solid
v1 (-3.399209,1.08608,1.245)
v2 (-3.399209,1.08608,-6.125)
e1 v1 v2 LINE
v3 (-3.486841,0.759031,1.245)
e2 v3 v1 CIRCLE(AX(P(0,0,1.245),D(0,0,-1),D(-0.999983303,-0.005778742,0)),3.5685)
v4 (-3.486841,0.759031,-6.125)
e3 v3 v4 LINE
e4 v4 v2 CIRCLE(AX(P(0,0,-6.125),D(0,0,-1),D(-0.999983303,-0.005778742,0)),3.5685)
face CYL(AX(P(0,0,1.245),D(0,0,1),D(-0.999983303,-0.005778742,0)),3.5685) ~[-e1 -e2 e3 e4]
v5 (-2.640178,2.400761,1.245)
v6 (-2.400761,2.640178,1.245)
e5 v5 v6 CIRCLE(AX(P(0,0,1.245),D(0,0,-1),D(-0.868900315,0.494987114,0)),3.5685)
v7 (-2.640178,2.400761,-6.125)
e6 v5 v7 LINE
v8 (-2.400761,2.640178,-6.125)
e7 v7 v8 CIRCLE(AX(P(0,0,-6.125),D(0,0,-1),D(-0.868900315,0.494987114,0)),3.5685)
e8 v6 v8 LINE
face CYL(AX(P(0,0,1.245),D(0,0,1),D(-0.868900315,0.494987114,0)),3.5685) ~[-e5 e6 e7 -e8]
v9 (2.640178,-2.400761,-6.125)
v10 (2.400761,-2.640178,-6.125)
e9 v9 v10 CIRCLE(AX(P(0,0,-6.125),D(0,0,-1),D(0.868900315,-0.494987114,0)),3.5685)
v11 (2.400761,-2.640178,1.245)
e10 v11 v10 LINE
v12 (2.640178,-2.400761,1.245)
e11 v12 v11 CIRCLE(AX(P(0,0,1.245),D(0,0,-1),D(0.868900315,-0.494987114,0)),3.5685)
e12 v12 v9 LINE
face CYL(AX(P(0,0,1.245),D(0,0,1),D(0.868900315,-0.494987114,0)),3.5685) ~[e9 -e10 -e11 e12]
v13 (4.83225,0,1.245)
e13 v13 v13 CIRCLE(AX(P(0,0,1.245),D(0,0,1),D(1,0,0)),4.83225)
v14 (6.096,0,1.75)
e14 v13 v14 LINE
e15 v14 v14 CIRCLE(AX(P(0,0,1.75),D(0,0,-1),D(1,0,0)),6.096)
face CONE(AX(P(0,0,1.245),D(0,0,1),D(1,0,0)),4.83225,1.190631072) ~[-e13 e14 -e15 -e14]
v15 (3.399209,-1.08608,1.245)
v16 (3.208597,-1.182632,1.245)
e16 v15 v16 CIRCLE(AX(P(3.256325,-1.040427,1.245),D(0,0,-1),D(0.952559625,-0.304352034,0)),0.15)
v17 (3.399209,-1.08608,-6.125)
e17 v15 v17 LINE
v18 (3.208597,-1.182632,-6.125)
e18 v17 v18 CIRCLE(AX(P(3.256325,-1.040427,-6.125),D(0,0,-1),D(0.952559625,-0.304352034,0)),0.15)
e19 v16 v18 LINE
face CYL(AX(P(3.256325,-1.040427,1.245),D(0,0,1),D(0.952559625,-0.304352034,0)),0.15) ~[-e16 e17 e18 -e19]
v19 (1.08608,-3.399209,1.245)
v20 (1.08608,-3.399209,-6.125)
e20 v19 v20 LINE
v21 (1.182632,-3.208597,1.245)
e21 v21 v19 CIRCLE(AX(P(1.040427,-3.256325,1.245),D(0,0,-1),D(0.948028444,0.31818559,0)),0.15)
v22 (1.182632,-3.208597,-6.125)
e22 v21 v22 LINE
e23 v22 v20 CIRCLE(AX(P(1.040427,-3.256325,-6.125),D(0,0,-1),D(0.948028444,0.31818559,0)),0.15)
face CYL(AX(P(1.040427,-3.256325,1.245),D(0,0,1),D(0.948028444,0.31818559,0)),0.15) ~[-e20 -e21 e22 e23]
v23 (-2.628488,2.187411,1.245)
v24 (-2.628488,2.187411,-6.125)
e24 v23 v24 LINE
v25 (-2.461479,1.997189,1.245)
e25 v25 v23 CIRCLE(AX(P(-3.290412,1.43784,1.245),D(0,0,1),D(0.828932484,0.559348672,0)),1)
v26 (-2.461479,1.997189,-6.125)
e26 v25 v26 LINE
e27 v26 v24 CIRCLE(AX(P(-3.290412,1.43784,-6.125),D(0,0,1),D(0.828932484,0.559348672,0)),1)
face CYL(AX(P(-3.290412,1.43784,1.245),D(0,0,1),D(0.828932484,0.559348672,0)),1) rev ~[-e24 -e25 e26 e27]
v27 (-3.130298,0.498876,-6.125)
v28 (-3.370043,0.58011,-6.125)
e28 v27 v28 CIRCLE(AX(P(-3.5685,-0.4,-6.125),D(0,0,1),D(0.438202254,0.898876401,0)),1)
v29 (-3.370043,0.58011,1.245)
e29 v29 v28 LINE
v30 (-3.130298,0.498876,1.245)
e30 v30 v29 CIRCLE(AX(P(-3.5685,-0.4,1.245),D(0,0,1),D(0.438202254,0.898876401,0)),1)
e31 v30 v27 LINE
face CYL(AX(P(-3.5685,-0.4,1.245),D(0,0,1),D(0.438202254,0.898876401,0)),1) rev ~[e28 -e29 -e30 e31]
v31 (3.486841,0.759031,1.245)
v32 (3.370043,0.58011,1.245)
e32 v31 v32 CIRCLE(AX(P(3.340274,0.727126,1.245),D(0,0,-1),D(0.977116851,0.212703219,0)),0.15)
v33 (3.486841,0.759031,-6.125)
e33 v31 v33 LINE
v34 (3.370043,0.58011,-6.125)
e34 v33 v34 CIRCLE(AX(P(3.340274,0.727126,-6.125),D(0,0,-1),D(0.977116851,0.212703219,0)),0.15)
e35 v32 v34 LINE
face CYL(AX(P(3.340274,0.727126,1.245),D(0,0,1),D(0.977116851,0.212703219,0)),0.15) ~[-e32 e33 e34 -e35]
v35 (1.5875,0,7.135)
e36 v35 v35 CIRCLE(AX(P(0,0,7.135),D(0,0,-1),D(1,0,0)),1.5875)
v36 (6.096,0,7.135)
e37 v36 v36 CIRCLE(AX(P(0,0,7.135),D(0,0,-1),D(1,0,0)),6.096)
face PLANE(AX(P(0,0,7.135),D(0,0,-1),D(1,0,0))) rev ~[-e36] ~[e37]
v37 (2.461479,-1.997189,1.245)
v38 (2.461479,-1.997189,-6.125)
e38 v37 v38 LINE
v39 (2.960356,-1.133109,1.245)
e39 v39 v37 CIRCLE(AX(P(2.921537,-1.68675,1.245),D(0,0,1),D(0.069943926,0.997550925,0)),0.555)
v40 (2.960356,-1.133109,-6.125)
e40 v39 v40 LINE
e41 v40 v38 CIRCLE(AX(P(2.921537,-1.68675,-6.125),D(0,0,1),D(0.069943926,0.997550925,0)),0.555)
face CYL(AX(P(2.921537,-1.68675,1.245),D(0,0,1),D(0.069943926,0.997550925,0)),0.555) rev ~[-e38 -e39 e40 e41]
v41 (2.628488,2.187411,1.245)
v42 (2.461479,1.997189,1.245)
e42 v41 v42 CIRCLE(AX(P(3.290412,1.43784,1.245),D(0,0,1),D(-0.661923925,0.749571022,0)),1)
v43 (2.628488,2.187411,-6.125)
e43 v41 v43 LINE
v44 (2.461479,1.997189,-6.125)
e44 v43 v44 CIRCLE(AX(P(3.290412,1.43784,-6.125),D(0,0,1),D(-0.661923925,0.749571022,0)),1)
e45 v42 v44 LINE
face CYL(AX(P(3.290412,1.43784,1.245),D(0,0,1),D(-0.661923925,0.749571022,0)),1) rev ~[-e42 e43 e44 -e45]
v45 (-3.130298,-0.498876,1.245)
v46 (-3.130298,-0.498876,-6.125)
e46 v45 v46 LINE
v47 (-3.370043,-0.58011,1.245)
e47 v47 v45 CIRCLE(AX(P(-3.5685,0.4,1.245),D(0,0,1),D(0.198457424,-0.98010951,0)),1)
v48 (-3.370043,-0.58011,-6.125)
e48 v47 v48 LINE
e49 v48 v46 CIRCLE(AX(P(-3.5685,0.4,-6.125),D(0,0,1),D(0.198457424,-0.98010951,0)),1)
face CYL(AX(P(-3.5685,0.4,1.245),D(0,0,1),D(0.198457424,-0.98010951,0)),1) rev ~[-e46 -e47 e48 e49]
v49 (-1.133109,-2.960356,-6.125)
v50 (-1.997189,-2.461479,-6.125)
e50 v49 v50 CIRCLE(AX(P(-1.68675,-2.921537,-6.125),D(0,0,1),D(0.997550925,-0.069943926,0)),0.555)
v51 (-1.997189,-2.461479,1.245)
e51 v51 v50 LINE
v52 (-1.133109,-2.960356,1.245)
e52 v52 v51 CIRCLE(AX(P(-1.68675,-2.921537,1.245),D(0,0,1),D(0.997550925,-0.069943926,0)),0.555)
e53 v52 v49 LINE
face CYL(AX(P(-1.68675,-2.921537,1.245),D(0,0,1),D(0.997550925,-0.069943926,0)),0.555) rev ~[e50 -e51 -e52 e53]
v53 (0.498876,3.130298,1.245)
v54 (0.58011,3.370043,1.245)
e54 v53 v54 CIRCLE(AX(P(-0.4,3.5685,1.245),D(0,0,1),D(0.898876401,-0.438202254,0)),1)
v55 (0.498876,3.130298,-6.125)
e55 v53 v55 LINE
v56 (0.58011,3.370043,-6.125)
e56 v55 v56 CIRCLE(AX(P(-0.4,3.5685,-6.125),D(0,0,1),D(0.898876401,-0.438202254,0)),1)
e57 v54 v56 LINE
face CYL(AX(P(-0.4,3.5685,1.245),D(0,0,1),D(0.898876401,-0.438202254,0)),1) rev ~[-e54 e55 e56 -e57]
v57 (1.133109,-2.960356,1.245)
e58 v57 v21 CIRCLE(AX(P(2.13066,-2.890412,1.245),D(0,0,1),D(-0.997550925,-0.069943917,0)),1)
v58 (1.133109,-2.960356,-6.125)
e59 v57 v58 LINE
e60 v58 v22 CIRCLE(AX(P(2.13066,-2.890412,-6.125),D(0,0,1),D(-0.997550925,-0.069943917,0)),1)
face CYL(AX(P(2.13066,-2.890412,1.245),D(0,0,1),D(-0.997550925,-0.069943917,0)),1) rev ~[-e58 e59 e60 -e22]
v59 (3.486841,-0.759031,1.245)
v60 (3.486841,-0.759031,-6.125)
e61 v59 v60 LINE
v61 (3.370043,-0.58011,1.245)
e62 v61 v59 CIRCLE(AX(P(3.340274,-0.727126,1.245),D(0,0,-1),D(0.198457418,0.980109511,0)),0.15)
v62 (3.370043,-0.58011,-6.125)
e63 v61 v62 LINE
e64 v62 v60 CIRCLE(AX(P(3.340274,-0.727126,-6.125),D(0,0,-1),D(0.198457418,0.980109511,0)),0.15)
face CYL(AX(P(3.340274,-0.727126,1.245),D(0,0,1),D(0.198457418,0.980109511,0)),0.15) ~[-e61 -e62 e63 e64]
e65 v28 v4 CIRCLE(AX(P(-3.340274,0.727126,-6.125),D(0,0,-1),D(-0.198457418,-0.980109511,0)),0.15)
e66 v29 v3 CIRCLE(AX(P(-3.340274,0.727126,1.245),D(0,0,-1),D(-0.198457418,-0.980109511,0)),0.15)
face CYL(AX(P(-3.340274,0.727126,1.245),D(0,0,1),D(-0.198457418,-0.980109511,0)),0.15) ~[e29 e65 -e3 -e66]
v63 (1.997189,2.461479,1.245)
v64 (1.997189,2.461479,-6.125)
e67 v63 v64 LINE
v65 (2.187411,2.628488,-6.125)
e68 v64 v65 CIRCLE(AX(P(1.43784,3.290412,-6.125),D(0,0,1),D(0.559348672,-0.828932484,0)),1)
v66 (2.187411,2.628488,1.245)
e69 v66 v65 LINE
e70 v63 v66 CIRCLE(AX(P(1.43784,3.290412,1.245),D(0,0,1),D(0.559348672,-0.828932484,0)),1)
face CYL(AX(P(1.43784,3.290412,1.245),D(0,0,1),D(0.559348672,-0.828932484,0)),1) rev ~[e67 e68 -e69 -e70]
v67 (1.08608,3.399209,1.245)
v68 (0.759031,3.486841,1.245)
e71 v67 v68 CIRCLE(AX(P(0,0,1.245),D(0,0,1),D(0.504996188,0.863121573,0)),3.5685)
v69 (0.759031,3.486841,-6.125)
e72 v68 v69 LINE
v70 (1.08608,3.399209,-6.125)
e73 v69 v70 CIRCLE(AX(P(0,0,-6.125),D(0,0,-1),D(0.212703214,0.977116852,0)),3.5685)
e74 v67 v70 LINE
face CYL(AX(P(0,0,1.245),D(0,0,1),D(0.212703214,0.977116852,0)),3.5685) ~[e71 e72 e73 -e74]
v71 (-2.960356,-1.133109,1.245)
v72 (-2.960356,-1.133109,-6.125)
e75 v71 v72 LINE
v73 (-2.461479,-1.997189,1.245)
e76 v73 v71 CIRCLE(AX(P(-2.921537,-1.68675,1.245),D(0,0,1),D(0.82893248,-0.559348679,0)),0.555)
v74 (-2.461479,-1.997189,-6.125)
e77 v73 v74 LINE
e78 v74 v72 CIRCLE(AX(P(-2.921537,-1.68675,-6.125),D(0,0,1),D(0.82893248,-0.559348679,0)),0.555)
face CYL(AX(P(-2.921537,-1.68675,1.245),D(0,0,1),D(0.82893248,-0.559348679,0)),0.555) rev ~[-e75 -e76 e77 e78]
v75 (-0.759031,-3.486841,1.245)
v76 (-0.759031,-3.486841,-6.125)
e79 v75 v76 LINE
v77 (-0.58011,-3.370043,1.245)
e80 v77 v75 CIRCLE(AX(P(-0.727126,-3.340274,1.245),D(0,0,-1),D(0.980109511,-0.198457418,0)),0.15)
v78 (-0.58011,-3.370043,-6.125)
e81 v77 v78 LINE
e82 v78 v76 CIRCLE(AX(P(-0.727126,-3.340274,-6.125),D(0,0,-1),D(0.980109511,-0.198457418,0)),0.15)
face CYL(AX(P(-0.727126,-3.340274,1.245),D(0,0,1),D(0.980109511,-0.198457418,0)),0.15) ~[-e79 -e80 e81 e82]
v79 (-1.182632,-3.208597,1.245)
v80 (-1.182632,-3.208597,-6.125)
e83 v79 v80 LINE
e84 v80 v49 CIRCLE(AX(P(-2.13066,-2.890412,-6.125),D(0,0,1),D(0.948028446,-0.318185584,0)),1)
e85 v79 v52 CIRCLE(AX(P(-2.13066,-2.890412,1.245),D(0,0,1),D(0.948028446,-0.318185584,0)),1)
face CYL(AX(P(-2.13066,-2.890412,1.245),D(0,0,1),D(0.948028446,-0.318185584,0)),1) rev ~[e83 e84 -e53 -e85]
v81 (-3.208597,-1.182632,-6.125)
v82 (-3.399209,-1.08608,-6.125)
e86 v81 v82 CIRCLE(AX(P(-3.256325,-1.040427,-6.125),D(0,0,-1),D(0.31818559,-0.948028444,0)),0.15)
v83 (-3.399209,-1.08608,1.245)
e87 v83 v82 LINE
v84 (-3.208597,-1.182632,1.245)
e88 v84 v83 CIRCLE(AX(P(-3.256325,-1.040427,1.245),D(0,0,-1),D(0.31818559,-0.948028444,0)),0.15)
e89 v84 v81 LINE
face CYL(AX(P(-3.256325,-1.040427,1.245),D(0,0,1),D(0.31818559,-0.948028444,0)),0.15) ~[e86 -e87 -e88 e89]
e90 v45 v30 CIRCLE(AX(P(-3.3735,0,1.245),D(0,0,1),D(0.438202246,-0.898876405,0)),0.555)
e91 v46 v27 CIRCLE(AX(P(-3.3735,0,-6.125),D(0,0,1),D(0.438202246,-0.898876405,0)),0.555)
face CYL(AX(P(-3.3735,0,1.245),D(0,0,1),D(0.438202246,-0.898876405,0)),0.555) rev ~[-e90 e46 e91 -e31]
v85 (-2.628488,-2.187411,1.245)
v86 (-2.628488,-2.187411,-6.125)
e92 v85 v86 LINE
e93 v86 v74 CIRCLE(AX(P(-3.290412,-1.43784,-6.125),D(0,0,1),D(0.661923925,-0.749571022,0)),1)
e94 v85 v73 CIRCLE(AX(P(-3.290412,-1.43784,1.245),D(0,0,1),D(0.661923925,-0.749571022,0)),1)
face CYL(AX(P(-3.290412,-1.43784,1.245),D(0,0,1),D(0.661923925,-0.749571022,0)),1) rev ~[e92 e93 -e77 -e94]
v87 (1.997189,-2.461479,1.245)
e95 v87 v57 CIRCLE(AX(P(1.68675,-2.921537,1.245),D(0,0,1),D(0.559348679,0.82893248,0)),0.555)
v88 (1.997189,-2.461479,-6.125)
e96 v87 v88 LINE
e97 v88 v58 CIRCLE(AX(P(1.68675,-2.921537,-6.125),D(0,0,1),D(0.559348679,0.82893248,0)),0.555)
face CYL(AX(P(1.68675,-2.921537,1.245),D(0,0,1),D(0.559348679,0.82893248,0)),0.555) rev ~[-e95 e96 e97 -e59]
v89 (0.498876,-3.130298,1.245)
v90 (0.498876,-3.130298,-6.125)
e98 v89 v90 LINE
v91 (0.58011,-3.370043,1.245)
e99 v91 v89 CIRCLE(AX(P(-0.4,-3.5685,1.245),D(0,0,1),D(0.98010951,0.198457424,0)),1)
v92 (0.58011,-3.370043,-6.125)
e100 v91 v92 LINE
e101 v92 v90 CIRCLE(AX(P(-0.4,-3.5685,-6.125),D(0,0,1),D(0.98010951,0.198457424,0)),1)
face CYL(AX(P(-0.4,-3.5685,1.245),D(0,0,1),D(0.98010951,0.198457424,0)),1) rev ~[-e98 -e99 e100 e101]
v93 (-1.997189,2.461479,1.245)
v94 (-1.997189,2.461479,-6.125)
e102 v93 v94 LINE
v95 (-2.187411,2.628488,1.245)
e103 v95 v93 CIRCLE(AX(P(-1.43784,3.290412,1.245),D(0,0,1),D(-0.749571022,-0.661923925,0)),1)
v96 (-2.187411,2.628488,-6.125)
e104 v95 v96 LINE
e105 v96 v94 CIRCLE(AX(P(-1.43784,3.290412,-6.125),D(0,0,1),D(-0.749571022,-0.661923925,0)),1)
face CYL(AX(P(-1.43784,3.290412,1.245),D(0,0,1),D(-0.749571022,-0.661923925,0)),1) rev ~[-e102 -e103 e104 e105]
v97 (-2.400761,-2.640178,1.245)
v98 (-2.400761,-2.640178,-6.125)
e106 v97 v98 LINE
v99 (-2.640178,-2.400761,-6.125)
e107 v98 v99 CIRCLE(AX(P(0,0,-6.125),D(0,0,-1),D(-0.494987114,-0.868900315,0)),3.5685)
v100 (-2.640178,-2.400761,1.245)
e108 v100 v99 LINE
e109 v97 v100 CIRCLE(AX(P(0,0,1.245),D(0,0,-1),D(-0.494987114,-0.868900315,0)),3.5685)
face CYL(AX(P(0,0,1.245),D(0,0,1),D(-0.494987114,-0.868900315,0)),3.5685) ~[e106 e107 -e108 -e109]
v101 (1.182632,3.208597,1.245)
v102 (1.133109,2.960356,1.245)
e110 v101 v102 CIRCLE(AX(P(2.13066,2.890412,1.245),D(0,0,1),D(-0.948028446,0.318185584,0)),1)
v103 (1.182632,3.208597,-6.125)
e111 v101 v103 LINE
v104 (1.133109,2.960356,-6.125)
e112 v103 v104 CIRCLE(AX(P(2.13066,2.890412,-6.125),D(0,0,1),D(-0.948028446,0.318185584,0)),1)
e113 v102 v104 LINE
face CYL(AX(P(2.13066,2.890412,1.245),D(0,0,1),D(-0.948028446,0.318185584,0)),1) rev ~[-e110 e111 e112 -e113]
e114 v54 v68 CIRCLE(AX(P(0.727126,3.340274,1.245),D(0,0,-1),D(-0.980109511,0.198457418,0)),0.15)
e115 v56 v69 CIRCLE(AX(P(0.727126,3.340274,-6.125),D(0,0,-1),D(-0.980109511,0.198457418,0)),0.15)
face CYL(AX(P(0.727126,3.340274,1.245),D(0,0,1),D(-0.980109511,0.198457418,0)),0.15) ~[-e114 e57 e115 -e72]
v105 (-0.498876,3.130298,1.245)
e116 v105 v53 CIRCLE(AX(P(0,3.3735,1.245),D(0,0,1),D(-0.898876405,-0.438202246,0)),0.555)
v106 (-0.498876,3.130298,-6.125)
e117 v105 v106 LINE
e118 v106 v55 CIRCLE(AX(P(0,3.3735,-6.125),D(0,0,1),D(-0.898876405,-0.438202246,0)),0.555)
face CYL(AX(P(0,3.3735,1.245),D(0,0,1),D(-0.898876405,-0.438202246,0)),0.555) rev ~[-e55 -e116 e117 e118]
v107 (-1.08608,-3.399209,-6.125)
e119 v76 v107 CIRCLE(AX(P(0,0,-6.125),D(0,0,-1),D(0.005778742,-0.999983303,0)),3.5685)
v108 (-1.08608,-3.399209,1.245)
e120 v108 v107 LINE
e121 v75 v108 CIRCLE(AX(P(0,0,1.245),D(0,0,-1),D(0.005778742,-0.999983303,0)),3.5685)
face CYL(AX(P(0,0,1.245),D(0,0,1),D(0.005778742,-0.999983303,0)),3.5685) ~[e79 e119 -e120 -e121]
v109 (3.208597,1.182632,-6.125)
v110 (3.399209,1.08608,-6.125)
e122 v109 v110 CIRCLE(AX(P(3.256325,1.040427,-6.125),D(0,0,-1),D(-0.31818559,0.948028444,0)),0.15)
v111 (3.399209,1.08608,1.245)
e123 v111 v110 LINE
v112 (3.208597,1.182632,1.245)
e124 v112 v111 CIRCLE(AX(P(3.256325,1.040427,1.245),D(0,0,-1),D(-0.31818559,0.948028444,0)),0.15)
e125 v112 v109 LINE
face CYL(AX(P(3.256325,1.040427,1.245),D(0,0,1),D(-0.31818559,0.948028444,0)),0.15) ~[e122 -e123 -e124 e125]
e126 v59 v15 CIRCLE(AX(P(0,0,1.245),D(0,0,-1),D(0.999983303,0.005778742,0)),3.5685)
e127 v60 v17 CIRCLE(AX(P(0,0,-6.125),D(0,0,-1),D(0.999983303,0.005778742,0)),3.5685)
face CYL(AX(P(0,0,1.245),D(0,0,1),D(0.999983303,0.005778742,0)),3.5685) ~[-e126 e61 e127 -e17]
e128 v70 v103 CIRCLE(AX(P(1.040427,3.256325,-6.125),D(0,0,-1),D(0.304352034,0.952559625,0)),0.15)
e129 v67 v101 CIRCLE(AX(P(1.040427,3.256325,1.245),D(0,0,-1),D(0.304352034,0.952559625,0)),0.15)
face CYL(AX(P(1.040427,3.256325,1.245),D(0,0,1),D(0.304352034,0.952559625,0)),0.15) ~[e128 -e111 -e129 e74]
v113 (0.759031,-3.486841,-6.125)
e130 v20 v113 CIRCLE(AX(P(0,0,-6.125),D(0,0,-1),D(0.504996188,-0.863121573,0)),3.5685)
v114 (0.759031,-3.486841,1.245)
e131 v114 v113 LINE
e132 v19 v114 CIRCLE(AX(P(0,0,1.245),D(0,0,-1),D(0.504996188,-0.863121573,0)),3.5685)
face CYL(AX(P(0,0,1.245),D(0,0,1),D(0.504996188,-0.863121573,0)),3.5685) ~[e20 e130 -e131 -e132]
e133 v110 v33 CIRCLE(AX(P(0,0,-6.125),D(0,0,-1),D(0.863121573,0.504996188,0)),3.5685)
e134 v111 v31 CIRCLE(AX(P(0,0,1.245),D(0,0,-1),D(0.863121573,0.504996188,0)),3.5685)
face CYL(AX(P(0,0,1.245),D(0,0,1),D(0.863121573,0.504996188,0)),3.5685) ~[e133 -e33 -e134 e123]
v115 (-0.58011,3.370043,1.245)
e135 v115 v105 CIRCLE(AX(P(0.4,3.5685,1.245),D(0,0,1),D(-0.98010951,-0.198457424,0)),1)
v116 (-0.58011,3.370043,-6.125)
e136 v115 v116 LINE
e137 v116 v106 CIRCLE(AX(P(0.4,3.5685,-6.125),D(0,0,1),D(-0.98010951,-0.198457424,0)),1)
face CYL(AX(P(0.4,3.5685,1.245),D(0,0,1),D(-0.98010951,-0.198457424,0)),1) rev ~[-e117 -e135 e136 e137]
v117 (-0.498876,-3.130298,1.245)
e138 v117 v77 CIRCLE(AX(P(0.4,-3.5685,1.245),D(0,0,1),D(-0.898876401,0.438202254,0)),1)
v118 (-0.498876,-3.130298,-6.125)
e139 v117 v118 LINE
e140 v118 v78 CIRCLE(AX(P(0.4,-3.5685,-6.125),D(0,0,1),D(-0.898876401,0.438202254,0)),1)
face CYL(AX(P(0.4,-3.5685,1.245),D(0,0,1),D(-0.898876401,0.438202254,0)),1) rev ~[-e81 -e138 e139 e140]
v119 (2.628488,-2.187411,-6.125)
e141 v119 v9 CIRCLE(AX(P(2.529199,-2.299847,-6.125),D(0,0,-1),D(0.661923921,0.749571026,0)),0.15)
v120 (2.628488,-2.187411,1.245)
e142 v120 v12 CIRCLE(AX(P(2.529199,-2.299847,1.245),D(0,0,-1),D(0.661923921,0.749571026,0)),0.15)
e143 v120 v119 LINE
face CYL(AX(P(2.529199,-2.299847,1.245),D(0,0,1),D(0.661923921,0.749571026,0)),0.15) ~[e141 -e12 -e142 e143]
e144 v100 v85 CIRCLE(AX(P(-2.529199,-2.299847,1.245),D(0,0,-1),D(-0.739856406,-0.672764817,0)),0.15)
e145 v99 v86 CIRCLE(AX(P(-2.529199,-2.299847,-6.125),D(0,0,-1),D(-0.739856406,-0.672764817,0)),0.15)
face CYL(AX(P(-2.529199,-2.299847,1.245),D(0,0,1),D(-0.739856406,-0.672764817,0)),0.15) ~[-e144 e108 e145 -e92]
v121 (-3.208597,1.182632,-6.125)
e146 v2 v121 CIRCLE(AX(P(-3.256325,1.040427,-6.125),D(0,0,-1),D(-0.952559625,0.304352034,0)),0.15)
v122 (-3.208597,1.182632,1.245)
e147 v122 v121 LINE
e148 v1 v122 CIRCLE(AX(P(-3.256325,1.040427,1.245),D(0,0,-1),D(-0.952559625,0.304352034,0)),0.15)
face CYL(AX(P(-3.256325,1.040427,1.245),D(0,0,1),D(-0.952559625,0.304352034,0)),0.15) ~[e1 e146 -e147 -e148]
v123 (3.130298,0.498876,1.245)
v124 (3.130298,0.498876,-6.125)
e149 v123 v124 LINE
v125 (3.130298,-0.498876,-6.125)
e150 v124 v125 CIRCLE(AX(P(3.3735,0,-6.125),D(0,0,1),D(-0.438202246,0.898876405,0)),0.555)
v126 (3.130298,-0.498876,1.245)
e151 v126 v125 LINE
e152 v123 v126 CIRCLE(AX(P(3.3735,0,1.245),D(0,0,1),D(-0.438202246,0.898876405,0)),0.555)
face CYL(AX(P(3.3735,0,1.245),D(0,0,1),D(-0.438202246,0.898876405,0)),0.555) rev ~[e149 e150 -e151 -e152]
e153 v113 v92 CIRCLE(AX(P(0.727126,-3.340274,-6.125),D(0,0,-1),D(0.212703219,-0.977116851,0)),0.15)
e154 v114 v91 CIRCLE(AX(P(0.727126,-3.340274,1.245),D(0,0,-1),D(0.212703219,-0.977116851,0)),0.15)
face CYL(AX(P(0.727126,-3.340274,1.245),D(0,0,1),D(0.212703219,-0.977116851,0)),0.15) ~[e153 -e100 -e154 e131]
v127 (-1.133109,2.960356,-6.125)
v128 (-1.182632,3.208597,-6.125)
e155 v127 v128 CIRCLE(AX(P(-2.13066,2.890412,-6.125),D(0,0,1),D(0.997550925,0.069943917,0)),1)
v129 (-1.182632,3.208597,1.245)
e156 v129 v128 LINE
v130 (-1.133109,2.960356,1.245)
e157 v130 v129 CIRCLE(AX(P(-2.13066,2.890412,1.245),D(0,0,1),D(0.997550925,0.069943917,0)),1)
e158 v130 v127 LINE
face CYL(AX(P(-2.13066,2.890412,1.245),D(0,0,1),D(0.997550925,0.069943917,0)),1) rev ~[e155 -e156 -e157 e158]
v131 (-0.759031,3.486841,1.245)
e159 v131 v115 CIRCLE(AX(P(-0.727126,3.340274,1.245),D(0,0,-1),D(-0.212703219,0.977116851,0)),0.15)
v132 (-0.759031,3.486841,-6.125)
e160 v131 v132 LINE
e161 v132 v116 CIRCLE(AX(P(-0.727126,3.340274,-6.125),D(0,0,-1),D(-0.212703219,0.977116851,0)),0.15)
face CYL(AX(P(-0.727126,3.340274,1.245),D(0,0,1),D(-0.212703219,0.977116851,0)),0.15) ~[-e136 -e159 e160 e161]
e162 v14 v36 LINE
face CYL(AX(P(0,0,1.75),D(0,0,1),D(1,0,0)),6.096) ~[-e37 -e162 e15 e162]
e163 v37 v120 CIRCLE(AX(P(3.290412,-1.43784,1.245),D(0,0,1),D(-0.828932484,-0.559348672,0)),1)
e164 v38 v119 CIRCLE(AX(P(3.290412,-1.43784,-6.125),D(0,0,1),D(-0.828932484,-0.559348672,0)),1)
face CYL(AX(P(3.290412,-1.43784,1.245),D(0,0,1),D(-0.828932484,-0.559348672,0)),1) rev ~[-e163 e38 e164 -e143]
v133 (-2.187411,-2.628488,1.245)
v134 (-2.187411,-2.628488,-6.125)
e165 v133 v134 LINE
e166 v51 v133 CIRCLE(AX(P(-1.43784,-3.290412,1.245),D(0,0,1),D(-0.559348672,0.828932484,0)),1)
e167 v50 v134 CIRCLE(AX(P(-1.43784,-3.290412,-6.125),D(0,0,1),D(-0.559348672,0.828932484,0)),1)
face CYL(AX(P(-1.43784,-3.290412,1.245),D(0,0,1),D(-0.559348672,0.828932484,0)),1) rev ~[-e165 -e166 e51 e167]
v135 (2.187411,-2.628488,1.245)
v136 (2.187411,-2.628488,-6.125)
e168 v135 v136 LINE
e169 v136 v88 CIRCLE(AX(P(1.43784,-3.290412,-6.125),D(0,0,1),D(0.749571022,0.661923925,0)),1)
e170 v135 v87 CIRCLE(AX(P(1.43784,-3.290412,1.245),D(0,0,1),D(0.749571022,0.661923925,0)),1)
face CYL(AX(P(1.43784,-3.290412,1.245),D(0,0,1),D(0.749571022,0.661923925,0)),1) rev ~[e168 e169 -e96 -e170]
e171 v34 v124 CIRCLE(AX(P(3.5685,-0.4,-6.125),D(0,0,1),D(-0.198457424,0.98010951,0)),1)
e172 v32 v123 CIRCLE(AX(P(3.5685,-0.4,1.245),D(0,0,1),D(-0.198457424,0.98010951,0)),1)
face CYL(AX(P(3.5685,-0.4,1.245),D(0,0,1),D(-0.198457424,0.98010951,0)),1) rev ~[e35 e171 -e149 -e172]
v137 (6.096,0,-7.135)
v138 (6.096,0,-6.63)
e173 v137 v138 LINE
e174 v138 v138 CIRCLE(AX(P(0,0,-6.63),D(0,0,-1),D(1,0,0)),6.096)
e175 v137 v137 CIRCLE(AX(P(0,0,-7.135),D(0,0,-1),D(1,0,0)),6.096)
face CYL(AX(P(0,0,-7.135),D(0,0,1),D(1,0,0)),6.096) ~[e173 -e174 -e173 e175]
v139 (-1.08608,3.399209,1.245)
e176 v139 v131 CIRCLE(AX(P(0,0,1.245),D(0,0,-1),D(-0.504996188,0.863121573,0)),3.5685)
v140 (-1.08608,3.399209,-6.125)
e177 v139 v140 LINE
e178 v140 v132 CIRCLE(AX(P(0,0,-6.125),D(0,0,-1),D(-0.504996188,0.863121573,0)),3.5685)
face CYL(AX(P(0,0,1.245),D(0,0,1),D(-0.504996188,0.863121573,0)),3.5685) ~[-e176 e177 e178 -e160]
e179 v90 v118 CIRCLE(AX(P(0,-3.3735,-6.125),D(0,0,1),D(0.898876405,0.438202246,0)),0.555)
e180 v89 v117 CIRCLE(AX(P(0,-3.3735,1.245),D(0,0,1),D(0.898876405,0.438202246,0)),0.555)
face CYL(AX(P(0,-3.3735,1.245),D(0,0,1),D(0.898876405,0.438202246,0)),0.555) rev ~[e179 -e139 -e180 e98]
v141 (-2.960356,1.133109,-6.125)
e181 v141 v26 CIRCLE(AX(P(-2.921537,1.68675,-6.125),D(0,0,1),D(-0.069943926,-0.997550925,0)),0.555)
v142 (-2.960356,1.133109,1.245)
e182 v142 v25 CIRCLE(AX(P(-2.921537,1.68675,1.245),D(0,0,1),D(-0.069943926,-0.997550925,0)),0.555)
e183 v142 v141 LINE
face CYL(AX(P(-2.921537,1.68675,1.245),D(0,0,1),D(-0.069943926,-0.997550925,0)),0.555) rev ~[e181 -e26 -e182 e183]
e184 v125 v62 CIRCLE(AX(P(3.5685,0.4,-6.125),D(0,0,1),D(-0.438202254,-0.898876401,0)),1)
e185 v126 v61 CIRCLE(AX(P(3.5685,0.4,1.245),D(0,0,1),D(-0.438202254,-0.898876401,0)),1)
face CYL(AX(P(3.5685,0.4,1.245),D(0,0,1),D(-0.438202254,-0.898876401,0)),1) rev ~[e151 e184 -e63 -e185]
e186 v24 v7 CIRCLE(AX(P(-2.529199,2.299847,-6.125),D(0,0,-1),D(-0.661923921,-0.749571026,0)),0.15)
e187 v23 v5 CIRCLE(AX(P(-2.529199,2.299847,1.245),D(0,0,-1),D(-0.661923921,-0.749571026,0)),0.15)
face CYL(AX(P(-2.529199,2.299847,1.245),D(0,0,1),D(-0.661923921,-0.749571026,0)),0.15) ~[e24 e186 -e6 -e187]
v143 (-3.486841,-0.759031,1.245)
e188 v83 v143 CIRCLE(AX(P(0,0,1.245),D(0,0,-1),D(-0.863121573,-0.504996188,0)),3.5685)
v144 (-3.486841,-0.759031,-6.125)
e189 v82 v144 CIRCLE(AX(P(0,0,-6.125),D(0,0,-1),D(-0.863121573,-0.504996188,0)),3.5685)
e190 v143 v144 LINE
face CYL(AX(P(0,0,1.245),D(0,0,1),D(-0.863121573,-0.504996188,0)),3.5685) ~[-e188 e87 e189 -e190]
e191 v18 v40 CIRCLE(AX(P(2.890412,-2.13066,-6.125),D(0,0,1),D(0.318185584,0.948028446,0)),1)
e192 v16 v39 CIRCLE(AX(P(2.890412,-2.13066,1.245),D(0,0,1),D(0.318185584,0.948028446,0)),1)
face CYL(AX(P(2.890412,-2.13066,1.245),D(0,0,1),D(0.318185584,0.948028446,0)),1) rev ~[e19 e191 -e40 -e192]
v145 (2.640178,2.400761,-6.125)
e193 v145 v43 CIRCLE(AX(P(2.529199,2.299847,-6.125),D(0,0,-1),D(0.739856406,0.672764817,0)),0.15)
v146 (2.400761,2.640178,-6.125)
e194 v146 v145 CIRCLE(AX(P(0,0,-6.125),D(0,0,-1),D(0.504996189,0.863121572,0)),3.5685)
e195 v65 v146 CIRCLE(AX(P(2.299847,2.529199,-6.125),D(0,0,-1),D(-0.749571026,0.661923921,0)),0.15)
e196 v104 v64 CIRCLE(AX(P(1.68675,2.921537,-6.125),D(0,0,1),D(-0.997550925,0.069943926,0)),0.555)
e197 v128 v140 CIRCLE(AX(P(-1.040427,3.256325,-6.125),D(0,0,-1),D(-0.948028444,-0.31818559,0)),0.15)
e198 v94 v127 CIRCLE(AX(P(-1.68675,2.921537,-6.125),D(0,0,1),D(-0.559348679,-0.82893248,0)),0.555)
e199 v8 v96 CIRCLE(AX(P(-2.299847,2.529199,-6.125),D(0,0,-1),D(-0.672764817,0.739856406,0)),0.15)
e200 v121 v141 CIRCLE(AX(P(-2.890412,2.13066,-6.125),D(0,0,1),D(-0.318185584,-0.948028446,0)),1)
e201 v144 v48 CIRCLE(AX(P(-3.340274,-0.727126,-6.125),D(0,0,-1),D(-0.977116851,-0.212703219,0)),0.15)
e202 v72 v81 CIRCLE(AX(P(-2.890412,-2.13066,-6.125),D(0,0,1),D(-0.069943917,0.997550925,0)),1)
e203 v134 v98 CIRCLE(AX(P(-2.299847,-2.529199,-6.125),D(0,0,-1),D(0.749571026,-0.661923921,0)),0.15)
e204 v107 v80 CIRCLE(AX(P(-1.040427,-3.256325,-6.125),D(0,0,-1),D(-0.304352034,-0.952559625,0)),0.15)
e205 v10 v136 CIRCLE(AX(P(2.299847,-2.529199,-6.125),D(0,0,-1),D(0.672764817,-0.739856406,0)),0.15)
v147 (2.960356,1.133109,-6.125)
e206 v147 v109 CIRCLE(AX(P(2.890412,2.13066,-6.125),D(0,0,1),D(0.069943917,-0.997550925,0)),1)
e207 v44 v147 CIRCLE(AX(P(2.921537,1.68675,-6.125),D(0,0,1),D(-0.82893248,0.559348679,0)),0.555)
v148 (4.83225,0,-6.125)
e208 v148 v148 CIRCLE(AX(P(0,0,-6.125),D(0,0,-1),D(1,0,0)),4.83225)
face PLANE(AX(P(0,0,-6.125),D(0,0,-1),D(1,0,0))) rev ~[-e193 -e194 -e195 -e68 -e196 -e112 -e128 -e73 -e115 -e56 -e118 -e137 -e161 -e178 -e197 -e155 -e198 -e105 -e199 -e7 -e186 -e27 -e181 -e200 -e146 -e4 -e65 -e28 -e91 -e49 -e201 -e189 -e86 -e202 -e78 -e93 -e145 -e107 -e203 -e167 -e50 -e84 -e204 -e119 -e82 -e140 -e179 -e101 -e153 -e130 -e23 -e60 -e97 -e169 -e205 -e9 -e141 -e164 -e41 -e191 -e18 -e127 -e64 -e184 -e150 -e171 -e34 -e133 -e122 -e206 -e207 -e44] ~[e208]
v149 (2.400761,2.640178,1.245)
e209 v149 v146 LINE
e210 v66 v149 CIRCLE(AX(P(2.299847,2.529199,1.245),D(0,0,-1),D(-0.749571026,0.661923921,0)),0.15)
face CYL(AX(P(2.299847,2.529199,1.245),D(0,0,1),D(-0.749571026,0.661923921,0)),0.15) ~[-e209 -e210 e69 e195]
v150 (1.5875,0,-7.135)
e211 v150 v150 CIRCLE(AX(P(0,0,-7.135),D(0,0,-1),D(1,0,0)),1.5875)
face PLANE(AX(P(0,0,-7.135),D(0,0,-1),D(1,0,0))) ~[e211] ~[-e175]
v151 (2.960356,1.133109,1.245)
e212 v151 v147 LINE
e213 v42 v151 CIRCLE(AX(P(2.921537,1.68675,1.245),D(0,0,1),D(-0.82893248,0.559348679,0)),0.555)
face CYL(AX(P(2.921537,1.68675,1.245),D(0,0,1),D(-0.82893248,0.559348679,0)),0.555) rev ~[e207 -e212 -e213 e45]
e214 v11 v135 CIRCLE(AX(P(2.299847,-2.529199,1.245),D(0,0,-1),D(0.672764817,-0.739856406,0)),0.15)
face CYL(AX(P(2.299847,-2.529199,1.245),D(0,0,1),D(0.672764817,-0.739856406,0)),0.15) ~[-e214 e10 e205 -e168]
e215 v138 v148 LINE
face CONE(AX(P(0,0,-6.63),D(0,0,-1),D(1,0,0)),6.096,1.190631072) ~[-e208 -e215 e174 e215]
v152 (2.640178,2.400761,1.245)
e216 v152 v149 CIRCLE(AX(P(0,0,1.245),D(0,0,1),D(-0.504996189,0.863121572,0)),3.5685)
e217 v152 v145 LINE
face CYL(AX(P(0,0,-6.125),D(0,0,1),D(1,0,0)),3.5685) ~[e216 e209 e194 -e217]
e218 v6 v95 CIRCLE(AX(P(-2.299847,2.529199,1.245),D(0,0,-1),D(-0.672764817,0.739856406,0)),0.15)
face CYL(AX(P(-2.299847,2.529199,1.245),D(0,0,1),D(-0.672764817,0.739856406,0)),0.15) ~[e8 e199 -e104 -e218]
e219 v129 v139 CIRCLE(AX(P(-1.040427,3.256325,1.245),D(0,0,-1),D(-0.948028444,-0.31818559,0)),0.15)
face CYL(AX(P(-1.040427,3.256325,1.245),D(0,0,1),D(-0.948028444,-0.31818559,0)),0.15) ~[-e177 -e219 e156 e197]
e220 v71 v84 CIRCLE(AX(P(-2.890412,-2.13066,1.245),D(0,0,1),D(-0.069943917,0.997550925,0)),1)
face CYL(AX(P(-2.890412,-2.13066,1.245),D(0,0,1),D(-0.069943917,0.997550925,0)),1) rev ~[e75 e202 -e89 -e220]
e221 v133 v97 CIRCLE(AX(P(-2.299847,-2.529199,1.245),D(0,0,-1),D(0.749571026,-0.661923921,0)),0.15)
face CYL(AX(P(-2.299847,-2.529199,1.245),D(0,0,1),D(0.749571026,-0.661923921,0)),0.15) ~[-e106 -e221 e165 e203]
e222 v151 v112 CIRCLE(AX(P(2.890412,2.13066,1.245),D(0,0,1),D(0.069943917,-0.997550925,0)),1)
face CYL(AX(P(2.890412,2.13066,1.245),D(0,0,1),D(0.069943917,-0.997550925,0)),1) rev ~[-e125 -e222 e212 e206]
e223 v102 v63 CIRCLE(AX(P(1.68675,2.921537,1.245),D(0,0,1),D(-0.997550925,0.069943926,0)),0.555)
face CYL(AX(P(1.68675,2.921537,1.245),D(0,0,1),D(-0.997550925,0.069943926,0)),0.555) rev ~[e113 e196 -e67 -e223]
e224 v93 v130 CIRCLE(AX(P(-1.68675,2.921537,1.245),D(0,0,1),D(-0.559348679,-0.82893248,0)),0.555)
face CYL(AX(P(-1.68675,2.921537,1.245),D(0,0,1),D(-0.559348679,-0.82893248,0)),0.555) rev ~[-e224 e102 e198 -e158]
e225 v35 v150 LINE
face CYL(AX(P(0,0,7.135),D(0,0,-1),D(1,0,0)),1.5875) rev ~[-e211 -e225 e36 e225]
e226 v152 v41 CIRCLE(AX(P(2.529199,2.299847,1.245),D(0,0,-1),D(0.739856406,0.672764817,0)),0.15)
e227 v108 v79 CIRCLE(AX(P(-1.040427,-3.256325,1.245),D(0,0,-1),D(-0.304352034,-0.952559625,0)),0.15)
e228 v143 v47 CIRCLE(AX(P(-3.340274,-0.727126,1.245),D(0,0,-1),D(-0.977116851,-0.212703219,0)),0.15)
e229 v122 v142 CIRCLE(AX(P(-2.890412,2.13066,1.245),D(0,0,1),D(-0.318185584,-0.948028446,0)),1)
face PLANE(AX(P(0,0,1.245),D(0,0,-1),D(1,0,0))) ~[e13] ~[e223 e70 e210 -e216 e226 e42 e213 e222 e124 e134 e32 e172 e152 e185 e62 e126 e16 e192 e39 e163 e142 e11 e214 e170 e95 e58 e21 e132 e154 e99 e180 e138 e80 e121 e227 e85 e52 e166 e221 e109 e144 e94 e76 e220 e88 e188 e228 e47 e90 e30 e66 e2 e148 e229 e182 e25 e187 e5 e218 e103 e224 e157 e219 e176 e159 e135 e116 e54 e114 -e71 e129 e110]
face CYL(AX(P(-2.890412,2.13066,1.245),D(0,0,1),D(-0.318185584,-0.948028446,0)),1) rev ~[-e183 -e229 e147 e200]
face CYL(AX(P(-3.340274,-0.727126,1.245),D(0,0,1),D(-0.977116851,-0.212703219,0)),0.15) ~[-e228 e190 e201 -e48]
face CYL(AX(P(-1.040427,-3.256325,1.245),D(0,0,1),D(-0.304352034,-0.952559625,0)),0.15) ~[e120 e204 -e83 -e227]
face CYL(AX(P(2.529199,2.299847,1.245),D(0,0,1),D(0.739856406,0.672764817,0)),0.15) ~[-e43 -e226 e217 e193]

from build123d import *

# Parameters (mm, degrees)
CUT_EXTRUDE1_START = 1.245
CUT_EXTRUDE1_DEPTH = 7.37
CIRPATTERN1_COUNT  = 12


with BuildPart() as part:
    # Sketch2 → Revolve1 (revolve)
    with BuildSketch(Plane(origin=(0, 0, 0), x_dir=(0, 0, -1), z_dir=(1, 0, 0)), mode=Mode.PRIVATE) as revolve1_sk:
        Polygon((-7.135, 1.5875), (7.135, 1.5875), (7.135, 6.096), (6.63, 6.096), (6.125, 4.83225), (6.125, 3.5685), (-1.245, 3.5685), (-1.245, 4.83225), (-1.75, 6.096), (-7.135, 6.096), align=None)
    revolve(revolve1_sk.sketch.rotate(Axis((0, 0, 7.135), (0, 0, -1)), 90), axis=Axis((0, 0, 7.135), (0, 0, -1)))

    # Sketch3 → Cut-Extrude1 (cut)
    with BuildSketch(Plane.XY.offset(CUT_EXTRUDE1_START)):
        with BuildLine():
            Line((3.566654882, 6.096), (-3.566654882, 6.096))
            Line((-3.566654882, 6.096), (-1.802078902, 3.080049331))
            ThreePointArc((-1.802078902, 3.080049331), (-1.296607682, 3.324605355), (-0.759031417, 3.486841487))
            ThreePointArc((-0.759031417, 3.486841487), (-0.645131247, 3.465879975), (-0.580109509, 3.370042573))
            ThreePointArc((-0.580109509, 3.370042573), (-0.547109503, 3.247589437), (-0.498876404, 3.130297753))
            ThreePointArc((-0.498876404, 3.130297753), (0, 2.8185), (0.498876404, 3.130297753))
            ThreePointArc((0.498876404, 3.130297753), (0.547109503, 3.247589437), (0.580109509, 3.370042573))
            ThreePointArc((0.580109509, 3.370042573), (0.645131247, 3.465879975), (0.759031417, 3.486841487))
            ThreePointArc((0.759031417, 3.486841487), (1.296607682, 3.324605355), (1.802078902, 3.080049331))
            Line((1.802078902, 3.080049331), (3.566654882, 6.096))
        make_face()
    cut_extrude1 = extrude(amount=-CUT_EXTRUDE1_DEPTH, mode=Mode.SUBTRACT)

    # CirPattern1: Cut-Extrude1 ×12 about axis
    cirpattern1_axis = Axis((0, 0, 0), (0, 0, 1))
    for i in range(1, CIRPATTERN1_COUNT):
        add(cut_extrude1.rotate(cirpattern1_axis, i * 360 / CIRPATTERN1_COUNT), mode=Mode.SUBTRACT)


solid = part.part
